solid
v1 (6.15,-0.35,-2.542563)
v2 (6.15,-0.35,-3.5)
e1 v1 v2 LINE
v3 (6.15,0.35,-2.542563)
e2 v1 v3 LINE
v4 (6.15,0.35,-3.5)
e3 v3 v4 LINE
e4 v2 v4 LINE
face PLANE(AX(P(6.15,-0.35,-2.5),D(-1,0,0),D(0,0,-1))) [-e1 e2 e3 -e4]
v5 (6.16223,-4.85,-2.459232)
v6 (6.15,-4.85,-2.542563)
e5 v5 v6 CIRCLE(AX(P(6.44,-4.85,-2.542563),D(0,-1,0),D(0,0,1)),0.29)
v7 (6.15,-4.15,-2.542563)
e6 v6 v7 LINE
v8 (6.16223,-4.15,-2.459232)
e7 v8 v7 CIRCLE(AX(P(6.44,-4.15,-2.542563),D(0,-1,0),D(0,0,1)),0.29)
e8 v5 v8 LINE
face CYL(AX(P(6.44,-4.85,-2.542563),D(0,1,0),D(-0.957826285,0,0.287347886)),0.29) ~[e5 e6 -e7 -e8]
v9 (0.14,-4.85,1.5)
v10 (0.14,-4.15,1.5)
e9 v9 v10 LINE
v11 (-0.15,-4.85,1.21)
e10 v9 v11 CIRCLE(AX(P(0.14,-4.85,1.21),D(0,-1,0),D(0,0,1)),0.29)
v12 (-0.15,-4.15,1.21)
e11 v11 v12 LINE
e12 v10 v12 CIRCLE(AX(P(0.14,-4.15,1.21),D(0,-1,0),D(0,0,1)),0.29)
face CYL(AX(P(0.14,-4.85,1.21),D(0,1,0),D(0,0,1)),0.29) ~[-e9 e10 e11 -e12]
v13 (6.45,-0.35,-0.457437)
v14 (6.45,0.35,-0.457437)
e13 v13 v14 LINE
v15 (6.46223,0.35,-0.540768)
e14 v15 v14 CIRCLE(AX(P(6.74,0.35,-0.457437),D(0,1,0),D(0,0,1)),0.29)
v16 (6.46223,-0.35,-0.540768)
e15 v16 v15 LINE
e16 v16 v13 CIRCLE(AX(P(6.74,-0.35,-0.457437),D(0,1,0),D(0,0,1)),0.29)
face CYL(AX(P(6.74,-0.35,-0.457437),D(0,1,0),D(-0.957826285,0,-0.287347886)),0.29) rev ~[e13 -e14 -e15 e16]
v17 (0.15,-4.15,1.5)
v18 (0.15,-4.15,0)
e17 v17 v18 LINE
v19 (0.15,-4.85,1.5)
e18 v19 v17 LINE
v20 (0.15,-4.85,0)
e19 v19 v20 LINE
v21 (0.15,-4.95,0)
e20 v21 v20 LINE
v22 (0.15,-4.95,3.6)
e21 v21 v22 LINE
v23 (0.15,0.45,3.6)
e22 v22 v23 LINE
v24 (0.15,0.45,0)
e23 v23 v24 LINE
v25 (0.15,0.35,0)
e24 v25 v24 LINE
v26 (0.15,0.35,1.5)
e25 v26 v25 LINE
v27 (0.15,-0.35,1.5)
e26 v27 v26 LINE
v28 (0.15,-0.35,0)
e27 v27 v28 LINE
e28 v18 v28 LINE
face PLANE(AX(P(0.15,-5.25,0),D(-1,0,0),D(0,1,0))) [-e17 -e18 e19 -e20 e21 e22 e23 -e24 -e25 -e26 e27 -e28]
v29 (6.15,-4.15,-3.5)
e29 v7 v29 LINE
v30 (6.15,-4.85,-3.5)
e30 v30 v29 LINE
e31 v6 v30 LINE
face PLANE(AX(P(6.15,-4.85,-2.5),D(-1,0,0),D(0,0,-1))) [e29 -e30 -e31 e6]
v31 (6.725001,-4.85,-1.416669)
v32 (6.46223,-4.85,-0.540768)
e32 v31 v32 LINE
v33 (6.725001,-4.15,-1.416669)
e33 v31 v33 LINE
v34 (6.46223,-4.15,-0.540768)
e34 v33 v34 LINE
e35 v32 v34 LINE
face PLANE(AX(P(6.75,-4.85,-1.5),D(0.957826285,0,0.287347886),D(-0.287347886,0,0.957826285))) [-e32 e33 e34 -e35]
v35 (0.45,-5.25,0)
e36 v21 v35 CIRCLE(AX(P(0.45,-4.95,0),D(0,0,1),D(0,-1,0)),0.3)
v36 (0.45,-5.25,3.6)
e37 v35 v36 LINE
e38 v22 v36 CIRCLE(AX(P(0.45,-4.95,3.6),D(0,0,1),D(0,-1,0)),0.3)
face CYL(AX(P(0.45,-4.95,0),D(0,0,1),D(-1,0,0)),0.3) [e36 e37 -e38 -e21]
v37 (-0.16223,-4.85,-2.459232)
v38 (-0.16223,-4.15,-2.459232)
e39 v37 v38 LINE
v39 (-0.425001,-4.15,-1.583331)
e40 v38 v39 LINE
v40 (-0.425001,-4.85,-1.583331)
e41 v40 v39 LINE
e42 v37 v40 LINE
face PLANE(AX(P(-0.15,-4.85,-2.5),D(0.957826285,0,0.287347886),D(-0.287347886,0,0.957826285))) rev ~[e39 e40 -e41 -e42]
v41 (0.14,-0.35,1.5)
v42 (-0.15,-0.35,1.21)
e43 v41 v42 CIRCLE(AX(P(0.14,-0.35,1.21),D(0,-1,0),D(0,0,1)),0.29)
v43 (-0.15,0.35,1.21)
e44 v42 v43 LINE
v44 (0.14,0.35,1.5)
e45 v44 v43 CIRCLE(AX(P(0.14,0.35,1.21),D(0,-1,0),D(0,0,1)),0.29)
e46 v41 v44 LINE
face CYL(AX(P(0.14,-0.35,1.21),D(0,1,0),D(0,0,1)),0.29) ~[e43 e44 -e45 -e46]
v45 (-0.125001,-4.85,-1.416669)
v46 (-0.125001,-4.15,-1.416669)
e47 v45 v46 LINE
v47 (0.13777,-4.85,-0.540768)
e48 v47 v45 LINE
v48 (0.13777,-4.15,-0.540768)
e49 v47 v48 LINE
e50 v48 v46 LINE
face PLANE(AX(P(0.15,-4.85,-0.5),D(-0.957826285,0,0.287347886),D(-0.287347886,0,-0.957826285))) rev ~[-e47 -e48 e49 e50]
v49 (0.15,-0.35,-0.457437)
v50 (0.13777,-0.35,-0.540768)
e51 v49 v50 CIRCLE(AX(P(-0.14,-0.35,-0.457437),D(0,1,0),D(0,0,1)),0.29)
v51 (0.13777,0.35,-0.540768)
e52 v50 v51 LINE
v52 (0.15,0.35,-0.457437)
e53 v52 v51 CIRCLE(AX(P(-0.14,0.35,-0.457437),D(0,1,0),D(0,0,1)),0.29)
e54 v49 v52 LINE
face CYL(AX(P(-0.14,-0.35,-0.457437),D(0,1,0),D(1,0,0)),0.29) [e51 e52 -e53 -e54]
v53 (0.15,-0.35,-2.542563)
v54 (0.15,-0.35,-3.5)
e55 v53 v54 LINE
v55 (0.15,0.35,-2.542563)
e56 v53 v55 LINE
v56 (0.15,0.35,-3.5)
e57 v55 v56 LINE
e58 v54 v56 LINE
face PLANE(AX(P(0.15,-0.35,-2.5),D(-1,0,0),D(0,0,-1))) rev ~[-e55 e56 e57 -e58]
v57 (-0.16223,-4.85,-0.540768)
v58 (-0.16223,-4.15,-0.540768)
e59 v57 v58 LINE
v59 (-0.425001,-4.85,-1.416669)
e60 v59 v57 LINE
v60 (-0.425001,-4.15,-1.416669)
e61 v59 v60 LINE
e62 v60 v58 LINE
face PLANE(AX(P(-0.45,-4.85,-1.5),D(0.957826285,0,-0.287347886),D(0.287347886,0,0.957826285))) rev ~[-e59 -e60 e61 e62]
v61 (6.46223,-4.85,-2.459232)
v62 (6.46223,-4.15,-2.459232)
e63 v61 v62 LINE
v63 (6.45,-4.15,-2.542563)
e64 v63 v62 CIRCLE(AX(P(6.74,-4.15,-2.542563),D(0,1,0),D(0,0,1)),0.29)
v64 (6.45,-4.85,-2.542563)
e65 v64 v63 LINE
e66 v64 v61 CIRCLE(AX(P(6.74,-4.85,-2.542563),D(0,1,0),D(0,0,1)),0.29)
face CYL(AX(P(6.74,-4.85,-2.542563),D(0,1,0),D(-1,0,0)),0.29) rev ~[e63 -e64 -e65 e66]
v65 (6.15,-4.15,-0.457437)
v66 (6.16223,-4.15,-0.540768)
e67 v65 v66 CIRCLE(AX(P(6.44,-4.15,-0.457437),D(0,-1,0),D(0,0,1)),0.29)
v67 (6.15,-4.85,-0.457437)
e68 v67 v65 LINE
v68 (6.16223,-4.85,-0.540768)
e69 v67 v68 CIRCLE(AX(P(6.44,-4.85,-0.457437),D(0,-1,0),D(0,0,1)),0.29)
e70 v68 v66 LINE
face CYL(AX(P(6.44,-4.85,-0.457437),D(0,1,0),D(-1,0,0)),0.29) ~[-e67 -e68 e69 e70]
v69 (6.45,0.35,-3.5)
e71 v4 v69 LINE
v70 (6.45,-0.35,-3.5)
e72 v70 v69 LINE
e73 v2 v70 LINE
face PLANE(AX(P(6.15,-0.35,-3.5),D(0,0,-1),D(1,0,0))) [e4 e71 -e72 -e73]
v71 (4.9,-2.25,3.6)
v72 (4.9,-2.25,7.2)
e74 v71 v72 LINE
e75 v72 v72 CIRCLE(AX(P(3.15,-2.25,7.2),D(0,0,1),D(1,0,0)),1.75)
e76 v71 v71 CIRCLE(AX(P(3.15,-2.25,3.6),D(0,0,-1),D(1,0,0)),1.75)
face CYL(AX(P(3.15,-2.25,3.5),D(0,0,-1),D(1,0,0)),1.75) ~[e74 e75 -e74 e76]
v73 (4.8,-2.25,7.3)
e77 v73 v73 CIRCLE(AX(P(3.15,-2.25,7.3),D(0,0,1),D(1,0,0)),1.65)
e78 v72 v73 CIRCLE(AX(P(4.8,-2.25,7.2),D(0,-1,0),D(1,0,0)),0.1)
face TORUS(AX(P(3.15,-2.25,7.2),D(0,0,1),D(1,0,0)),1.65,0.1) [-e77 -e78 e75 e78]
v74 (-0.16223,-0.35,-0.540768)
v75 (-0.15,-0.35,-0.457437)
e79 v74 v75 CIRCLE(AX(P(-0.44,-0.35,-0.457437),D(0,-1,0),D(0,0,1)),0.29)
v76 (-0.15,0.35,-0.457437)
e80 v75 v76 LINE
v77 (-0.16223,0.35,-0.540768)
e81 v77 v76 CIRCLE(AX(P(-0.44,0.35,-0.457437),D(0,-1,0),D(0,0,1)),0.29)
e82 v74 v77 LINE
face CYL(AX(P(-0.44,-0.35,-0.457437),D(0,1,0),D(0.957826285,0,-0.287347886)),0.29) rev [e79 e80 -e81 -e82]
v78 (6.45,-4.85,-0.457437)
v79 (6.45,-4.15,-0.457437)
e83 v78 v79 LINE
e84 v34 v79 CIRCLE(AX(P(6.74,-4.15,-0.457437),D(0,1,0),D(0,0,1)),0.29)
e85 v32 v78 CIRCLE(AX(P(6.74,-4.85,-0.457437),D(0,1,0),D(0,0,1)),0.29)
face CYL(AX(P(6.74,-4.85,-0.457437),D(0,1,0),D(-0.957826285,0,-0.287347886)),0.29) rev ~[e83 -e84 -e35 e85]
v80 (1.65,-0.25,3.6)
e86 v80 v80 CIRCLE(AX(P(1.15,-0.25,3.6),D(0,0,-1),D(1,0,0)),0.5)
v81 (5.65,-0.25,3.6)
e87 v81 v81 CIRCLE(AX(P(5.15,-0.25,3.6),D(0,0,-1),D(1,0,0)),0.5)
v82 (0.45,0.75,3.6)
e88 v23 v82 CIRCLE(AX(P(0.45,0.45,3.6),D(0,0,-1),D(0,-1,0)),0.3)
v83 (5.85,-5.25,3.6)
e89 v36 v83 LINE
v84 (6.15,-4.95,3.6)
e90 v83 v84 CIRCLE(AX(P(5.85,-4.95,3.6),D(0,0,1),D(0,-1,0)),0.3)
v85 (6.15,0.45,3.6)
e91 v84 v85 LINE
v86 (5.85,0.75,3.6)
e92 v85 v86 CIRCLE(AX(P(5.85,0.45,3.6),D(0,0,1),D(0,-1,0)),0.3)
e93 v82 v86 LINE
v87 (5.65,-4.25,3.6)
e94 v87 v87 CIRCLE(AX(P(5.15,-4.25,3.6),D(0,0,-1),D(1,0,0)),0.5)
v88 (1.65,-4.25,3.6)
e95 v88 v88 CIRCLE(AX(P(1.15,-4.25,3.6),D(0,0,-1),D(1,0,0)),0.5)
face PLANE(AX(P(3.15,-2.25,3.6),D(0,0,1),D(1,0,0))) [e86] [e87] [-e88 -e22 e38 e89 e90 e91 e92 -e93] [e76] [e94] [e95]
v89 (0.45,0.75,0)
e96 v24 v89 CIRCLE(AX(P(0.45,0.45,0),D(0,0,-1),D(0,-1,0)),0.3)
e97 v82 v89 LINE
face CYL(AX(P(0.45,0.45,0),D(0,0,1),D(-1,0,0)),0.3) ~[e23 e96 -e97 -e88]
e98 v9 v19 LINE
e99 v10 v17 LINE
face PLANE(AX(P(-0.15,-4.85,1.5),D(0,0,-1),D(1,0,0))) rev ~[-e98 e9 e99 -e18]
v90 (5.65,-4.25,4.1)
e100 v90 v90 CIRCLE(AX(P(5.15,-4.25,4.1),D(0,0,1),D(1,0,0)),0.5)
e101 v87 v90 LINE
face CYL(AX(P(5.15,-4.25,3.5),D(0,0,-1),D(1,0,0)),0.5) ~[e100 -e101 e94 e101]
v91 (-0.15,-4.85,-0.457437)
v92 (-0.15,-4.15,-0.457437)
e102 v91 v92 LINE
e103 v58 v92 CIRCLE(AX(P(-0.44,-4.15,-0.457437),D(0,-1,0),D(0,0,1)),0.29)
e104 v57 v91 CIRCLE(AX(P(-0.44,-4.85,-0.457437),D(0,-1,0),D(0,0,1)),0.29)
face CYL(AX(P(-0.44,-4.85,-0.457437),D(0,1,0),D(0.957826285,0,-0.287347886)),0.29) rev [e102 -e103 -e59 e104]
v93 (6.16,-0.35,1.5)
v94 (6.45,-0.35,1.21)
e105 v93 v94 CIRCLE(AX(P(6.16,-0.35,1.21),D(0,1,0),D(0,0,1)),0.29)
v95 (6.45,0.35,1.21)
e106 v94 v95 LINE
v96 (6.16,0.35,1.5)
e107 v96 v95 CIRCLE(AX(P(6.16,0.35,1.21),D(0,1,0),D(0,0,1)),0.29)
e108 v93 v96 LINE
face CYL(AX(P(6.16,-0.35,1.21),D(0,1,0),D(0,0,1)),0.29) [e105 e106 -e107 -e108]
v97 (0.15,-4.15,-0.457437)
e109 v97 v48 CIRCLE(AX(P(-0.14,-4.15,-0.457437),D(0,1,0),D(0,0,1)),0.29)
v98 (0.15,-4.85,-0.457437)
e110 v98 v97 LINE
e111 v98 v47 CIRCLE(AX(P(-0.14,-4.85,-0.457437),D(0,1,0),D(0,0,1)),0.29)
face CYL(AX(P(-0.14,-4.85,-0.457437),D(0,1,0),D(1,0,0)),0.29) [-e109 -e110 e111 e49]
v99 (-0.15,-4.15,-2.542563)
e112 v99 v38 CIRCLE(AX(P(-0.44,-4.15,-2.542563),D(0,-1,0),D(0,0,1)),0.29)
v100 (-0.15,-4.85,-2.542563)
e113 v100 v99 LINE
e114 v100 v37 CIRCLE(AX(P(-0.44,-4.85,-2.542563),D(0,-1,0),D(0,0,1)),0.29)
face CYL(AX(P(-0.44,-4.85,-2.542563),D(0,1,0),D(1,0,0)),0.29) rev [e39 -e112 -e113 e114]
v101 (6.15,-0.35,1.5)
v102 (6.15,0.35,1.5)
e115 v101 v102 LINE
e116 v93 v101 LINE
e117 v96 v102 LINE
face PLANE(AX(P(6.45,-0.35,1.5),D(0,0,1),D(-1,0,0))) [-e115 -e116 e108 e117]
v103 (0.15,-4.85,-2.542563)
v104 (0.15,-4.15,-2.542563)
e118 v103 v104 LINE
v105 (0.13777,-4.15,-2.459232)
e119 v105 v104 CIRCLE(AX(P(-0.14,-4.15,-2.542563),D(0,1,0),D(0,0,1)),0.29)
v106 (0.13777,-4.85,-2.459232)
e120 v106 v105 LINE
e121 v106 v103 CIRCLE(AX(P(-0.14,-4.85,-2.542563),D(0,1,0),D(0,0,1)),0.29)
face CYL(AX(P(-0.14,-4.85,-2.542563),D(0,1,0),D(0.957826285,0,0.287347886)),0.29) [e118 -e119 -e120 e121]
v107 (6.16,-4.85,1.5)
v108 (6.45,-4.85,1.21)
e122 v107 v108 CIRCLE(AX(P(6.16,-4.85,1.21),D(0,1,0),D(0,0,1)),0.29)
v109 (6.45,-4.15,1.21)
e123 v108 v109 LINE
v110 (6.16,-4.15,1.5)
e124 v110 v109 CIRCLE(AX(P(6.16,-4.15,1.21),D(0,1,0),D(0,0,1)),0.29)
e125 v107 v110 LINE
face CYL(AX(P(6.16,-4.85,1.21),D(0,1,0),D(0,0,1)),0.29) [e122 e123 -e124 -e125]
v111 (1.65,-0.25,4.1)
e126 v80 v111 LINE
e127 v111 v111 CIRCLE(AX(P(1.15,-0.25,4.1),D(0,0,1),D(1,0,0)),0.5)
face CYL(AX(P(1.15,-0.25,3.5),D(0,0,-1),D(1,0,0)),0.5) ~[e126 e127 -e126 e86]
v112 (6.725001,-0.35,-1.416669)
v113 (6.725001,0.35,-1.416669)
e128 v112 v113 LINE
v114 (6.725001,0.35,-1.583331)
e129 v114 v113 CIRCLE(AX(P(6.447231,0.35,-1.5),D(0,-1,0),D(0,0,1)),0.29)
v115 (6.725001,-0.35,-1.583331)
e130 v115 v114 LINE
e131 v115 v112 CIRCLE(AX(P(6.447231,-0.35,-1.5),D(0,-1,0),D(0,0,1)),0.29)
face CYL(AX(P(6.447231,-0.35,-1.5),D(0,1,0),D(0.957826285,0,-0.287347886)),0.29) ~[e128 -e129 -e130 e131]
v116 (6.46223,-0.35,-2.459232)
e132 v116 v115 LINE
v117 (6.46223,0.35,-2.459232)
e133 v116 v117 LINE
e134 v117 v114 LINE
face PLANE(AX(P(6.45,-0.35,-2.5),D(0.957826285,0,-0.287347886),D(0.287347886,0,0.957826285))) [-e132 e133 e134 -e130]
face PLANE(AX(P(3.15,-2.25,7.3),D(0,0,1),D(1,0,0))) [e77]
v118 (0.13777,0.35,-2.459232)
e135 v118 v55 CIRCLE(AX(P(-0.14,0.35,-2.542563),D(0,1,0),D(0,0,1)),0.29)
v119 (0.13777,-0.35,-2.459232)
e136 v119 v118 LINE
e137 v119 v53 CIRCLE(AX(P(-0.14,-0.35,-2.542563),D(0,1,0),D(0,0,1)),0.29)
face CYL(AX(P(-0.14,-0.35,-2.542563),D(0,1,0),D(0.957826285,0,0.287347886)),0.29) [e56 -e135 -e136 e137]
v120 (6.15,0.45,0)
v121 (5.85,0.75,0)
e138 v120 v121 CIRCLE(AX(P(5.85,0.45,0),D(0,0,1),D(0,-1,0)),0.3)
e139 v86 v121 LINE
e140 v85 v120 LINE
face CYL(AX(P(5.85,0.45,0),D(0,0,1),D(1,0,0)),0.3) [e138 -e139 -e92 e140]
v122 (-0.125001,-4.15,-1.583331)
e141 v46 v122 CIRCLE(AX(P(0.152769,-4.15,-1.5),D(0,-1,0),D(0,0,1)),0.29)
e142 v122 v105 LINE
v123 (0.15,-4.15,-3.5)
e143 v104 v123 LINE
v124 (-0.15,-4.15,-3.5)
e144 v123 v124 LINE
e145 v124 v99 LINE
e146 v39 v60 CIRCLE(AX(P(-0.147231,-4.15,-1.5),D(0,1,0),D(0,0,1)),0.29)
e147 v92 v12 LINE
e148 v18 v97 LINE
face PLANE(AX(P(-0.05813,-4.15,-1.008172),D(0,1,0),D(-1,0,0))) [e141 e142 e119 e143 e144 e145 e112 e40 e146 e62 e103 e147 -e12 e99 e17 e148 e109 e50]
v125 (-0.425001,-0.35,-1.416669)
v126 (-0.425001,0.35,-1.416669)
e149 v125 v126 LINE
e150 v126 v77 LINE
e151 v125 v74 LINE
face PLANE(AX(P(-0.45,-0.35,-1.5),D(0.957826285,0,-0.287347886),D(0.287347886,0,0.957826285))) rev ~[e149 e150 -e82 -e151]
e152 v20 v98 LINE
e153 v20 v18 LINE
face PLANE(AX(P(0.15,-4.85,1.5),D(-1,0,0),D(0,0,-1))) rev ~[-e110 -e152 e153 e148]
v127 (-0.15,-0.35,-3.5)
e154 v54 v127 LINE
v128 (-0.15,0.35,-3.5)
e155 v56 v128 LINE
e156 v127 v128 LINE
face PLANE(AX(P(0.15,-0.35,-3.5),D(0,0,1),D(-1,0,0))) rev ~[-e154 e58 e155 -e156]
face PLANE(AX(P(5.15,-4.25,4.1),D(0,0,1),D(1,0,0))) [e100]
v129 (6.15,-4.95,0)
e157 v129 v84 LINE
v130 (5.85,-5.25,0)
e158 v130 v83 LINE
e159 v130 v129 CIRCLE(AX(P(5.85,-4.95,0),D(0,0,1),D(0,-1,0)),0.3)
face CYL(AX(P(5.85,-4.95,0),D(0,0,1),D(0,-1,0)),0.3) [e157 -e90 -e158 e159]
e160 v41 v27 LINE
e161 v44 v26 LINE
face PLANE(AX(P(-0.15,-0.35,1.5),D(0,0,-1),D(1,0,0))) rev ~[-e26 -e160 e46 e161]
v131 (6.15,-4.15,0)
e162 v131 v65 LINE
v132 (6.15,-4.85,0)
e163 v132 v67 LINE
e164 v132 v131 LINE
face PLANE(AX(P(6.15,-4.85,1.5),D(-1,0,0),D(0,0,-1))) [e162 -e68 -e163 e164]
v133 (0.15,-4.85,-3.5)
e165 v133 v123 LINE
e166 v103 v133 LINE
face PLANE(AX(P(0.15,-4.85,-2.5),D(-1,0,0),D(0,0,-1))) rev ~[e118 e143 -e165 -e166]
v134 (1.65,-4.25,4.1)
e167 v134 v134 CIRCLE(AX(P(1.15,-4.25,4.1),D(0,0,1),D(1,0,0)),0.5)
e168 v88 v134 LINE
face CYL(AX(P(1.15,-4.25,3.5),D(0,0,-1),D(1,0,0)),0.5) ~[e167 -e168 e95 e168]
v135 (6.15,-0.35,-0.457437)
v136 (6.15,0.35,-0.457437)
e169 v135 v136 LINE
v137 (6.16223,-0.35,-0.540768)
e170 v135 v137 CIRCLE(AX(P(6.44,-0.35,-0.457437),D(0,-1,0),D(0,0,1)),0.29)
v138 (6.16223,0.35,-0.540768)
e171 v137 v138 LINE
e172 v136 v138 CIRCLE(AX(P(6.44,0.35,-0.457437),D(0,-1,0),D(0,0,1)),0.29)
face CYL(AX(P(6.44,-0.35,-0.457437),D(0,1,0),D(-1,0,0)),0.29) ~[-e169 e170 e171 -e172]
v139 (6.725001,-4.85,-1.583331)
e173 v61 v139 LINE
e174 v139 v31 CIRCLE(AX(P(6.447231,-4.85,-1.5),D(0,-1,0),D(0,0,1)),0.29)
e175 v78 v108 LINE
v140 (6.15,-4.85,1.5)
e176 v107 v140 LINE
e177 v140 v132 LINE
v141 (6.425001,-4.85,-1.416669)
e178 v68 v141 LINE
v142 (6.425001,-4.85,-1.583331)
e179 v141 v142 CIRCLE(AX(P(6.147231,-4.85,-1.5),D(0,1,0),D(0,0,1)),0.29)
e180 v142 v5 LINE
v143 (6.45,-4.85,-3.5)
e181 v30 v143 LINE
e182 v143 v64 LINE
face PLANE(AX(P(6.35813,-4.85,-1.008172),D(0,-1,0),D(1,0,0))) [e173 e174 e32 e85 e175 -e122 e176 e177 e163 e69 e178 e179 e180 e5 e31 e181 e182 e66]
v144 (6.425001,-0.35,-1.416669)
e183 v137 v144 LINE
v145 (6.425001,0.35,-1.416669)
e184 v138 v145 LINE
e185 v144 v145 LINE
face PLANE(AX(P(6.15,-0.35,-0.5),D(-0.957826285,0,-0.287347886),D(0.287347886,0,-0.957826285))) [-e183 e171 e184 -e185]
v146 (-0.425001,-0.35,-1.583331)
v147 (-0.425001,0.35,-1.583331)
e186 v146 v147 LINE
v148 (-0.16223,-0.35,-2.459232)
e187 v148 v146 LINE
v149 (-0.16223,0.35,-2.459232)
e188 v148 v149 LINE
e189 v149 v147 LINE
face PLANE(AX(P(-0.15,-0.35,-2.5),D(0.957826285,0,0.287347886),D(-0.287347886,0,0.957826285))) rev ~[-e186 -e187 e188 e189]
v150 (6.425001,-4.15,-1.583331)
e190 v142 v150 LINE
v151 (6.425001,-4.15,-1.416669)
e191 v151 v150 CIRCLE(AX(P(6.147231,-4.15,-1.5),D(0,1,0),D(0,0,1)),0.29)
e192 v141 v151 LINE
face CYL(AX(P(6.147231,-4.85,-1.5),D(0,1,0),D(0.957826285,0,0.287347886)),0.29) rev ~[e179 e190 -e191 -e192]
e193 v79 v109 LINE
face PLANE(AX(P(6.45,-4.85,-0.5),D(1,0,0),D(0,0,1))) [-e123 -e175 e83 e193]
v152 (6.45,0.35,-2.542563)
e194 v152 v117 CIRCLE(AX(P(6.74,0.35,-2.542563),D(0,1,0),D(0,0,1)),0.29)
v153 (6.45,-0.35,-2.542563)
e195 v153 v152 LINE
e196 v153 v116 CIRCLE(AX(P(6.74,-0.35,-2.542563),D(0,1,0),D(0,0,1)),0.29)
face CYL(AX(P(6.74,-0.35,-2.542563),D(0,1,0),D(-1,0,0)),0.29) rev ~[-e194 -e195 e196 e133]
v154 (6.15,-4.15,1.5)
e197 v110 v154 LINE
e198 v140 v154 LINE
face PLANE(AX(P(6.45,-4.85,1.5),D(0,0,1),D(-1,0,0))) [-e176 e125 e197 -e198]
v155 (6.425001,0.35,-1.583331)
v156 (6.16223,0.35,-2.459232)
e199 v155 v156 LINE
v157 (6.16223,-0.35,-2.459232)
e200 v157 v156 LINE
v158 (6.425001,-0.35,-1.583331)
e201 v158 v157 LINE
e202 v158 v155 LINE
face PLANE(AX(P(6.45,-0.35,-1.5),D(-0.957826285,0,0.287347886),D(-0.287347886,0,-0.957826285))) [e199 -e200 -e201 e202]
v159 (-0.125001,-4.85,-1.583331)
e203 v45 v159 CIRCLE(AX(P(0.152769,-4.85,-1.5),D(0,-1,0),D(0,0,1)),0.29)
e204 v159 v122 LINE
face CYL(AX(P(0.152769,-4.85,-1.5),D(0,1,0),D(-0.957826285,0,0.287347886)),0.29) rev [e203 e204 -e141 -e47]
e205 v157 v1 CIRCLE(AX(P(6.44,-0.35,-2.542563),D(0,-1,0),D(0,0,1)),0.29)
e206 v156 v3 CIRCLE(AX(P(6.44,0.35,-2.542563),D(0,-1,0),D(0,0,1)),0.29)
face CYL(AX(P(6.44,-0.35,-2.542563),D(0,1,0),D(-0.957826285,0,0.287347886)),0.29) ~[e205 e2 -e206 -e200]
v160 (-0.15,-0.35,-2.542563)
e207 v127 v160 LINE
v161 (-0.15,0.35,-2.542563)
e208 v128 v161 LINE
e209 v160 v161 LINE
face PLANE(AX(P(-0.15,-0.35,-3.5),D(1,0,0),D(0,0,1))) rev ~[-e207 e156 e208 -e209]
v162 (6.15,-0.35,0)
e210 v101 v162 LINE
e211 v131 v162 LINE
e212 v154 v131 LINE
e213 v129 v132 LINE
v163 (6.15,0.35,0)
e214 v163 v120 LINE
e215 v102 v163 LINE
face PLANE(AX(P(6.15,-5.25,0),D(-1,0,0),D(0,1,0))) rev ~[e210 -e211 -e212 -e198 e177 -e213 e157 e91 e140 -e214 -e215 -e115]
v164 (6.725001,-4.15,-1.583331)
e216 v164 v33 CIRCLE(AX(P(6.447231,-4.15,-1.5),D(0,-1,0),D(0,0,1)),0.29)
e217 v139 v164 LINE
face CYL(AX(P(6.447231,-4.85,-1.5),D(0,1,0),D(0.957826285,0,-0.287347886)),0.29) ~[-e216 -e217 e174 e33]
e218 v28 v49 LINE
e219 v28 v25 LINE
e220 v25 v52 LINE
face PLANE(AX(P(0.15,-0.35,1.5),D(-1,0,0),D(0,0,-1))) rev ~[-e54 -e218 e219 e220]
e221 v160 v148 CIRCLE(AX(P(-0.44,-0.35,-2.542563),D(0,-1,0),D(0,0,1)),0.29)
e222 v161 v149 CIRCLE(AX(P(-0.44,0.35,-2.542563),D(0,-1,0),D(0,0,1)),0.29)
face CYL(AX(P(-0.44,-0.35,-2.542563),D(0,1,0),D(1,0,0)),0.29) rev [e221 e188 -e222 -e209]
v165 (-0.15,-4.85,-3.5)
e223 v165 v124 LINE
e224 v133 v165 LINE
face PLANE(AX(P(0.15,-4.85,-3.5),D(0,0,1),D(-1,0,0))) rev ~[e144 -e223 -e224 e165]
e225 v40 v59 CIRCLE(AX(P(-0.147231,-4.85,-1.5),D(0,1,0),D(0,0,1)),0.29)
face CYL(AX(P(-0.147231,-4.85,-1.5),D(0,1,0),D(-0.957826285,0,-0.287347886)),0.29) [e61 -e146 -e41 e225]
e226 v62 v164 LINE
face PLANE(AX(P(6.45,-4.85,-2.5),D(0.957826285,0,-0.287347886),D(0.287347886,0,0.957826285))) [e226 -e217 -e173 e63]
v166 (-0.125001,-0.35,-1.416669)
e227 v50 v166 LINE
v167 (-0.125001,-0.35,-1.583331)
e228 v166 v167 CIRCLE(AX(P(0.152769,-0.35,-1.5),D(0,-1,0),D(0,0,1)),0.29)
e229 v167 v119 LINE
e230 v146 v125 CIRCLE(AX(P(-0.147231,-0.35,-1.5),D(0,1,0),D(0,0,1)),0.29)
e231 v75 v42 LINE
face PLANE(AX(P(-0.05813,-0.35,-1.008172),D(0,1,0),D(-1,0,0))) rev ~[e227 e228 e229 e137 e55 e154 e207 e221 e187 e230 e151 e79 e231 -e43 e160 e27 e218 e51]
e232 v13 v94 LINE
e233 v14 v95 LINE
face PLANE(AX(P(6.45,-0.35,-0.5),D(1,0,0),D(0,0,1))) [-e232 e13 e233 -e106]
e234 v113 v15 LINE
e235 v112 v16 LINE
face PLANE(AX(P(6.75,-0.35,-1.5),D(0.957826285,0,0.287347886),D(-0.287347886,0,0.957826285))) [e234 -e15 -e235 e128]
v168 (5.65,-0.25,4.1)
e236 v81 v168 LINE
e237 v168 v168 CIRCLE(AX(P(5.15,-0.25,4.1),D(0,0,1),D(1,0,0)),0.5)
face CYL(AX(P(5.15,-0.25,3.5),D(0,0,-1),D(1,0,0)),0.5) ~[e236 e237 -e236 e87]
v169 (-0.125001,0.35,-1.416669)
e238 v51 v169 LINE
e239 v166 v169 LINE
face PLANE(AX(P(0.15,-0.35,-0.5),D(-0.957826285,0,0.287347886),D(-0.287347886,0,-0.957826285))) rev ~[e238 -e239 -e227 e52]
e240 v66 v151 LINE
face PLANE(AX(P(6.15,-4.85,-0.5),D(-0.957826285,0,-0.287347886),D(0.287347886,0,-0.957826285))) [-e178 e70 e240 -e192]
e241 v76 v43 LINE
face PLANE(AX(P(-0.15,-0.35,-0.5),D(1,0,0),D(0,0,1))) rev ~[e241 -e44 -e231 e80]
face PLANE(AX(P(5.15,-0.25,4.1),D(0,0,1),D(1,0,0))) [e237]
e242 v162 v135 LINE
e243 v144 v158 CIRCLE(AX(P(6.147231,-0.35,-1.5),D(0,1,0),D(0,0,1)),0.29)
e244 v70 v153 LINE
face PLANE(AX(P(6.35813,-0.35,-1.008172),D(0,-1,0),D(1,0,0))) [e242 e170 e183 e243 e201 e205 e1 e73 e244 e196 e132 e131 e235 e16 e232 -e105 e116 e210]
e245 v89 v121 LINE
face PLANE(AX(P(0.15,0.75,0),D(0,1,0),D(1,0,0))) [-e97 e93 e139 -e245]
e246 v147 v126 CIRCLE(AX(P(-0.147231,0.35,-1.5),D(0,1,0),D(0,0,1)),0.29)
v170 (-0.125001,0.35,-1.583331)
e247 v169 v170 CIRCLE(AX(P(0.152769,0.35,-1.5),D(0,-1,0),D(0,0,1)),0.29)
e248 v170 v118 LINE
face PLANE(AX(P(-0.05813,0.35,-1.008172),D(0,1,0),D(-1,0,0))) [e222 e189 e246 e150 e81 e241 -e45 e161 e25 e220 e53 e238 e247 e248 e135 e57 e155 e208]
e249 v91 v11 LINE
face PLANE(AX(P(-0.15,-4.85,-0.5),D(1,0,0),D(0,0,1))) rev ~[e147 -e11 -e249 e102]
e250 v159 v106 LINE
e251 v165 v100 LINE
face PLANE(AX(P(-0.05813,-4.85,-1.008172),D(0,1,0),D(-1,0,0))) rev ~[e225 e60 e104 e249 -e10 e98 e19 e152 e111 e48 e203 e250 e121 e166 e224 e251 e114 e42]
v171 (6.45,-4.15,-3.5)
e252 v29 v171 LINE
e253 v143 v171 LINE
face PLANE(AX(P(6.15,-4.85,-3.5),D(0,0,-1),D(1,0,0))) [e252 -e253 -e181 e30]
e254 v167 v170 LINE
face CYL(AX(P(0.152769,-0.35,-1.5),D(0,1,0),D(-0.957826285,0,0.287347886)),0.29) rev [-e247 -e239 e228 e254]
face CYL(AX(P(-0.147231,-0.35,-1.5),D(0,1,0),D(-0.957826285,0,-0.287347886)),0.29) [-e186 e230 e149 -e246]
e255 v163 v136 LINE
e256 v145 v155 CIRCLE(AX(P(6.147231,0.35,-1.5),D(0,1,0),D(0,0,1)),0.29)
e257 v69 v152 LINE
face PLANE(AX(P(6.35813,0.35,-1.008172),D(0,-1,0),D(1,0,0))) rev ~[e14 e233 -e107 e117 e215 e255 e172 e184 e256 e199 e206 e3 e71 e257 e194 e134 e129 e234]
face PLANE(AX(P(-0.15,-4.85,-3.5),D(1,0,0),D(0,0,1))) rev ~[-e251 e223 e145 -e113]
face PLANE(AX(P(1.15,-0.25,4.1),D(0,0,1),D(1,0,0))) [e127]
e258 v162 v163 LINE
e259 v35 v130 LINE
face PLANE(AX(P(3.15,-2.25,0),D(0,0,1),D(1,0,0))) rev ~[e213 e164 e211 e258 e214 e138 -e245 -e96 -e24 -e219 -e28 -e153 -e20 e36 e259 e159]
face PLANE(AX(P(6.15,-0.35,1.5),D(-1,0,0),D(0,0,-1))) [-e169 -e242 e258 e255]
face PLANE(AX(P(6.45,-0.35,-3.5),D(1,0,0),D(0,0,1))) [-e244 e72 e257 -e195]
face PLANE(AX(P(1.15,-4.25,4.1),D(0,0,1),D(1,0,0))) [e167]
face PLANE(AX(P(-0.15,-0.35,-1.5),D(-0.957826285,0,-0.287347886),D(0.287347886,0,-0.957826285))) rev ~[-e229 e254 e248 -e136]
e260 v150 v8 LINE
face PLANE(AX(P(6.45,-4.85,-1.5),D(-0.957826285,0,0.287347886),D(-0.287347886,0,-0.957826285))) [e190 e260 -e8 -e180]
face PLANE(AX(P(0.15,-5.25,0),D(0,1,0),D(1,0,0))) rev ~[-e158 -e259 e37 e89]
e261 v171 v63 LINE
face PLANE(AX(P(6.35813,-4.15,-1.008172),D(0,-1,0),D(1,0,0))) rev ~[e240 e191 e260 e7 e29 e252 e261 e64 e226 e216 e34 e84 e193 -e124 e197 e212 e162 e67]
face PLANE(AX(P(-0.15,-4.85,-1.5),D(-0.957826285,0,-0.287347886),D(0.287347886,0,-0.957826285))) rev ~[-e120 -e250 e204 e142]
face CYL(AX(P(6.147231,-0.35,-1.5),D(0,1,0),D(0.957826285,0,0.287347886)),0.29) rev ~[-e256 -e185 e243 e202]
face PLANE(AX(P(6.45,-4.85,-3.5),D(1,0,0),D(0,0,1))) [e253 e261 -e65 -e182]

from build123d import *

# Parameters (mm, degrees)
SKETCH001_W  = 6
SKETCH001_H  = 6
PAD001_DEPTH = 0.1
FILLET001_R  = 0.3
PAD008_DEPTH = 0.7
FILLET003_R  = 0.29
PAD009_DEPTH = 0.7
FILLET004_R  = 0.29
PAD010_DEPTH = 0.7
FILLET005_R  = 0.29
SKETCH_W     = 6
SKETCH_H     = 6
PAD_DEPTH    = 3.5
FILLET_R     = 0.3
SKETCH004_R  = 0.5
PAD003_DEPTH = 0.6
SKETCH003_R  = 0.5
PAD004_DEPTH = 0.6
SKETCH005_R  = 0.5
PAD002_DEPTH = 0.6
SKETCH002_R  = 0.5
PAD005_DEPTH = 0.6
SKETCH006_R  = 1.75
PAD006_DEPTH = 3.8
FILLET006_R  = 0.1
PAD007_DEPTH = 0.7
FILLET002_R  = 0.29


with BuildPart() as fillet001:
    # Sketch001 → Pad001 (new body)
    with BuildSketch(Plane.XY.offset(3.5)):
        with Locations((3.15, -2.25)):
            Rectangle(SKETCH001_W, SKETCH001_H)
    extrude(amount=PAD001_DEPTH)

    # Fillet001
    fillet001_edges = [fillet001.edges().sort_by_distance(p)[0] for p in [
        (6.15, -5.25, 3.55),
        (0.15, -5.25, 3.55),
        (6.15, 0.75, 3.55),
        (0.15, 0.75, 3.55),
    ]]
    fillet(fillet001_edges, radius=FILLET001_R)


with BuildPart() as fillet003:
    # Sketch008 → Pad008 (new body)
    with BuildSketch(Plane.XZ.offset(0.35)):
        Polygon((-0.15, 1.5), (0.15, 1.5), (0.15, -0.5), (-0.15, -1.5), (0.15, -2.5), (0.15, -3.5), (-0.15, -3.5), (-0.15, -2.5), (-0.45, -1.5), (-0.15, -0.5), align=None)
    extrude(amount=-PAD008_DEPTH)

    # Fillet003
    fillet003_edges = [fillet003.edges().sort_by_distance(p)[0] for p in [
        (-0.15, 0, -2.5),
        (-0.15, 0, -0.5),
        (-0.45, 0, -1.5),
        (-0.15, 0, 1.5),
        (0.15, 0, -0.5),
        (-0.15, 0, -1.5),
        (0.15, 0, -2.5),
    ]]
    fillet(fillet003_edges, radius=FILLET003_R)


with BuildPart() as fillet004:
    # Sketch009 → Pad009 (new body)
    with BuildSketch(Plane.XZ.offset(4.85)):
        Polygon((6.45, 1.5), (6.15, 1.5), (6.15, -0.5), (6.45, -1.5), (6.15, -2.5), (6.15, -3.5), (6.45, -3.5), (6.45, -2.5), (6.75, -1.5), (6.45, -0.5), align=None)
    extrude(amount=-PAD009_DEPTH)

    # Fillet004
    fillet004_edges = [fillet004.edges().sort_by_distance(p)[0] for p in [
        (6.45, -4.5, -2.5),
        (6.45, -4.5, -0.5),
        (6.75, -4.5, -1.5),
        (6.45, -4.5, 1.5),
        (6.15, -4.5, -0.5),
        (6.45, -4.5, -1.5),
        (6.15, -4.5, -2.5),
    ]]
    fillet(fillet004_edges, radius=FILLET004_R)


with BuildPart() as fillet005:
    # Sketch010 → Pad010 (new body)
    with BuildSketch(Plane.XZ.offset(0.35)):
        Polygon((6.45, 1.5), (6.15, 1.5), (6.15, -0.5), (6.45, -1.5), (6.15, -2.5), (6.15, -3.5), (6.45, -3.5), (6.45, -2.5), (6.75, -1.5), (6.45, -0.5), align=None)
    extrude(amount=-PAD010_DEPTH)

    # Fillet005
    fillet005_edges = [fillet005.edges().sort_by_distance(p)[0] for p in [
        (6.45, 0, -2.5),
        (6.45, 0, -0.5),
        (6.75, 0, -1.5),
        (6.45, 0, 1.5),
        (6.15, 0, -0.5),
        (6.45, 0, -1.5),
        (6.15, 0, -2.5),
    ]]
    fillet(fillet005_edges, radius=FILLET005_R)


with BuildPart() as fillet_body:
    # Sketch → Pad (new body)
    with BuildSketch(Plane.XY):
        with Locations((3.15, -2.25)):
            Rectangle(SKETCH_W, SKETCH_H)
    extrude(amount=PAD_DEPTH)

    # Fillet
    fillet_edges = [fillet_body.edges().sort_by_distance(p)[0] for p in [
        (6.15, 0.75, 1.75),
        (6.15, -5.25, 1.75),
        (0.15, -5.25, 1.75),
        (0.15, 0.75, 1.75),
    ]]
    fillet(fillet_edges, radius=FILLET_R)


with BuildPart() as pad003:
    # Pad003 base: copy of Fillet body
    add(fillet_body.part)

    # Sketch004 → Pad003 (new body)
    with BuildSketch(Plane.XY.offset(3.5)):
        with Locations((5.15, -0.25)):
            Circle(SKETCH004_R)
    extrude(amount=PAD003_DEPTH)


with BuildPart() as pad004:
    # Pad004 base: copy of Fillet body
    add(fillet_body.part)

    # Sketch003 → Pad004 (new body)
    with BuildSketch(Plane.XY.offset(3.5)):
        with Locations((5.15, -4.25)):
            Circle(SKETCH003_R)
    extrude(amount=PAD004_DEPTH)


with BuildPart() as pad002:
    # Pad002 base: copy of Fillet body
    add(fillet_body.part)

    # Sketch005 → Pad002 (new body)
    with BuildSketch(Plane.XY.offset(3.5)):
        with Locations((1.15, -0.25)):
            Circle(SKETCH005_R)
    extrude(amount=PAD002_DEPTH)


with BuildPart() as pad005:
    # Pad005 base: copy of Fillet body
    add(fillet_body.part)

    # Sketch002 → Pad005 (new body)
    with BuildSketch(Plane.XY.offset(3.5)):
        with Locations((1.15, -4.25)):
            Circle(SKETCH002_R)
    extrude(amount=PAD005_DEPTH)


with BuildPart() as fillet006:
    # Pad006 base: copy of Fillet body
    add(fillet_body.part)

    # Sketch006 → Pad006 (new body)
    with BuildSketch(Plane.XY.offset(3.5)):
        with Locations((3.15, -2.25)):
            Circle(SKETCH006_R)
    extrude(amount=PAD006_DEPTH)

    # Fillet006
    fillet006_edges = [fillet006.edges().sort_by_distance(p)[0] for p in [
        (1.4, -2.25, 7.3),
    ]]
    fillet(fillet006_edges, radius=FILLET006_R)


with BuildPart() as sw_push_6mm_h7_3mm:
    # Sketch007 → Pad007 (new body)
    with BuildSketch(Plane.XZ.offset(4.85)):
        Polygon((-0.15, 1.5), (0.15, 1.5), (0.15, -0.5), (-0.15, -1.5), (0.15, -2.5), (0.15, -3.5), (-0.15, -3.5), (-0.15, -2.5), (-0.45, -1.5), (-0.15, -0.5), align=None)
    extrude(amount=-PAD007_DEPTH)

    # Fillet002
    fillet002_edges = [sw_push_6mm_h7_3mm.edges().sort_by_distance(p)[0] for p in [
        (-0.15, -4.5, -2.5),
        (-0.15, -4.5, -0.5),
        (-0.45, -4.5, -1.5),
        (-0.15, -4.5, 1.5),
        (0.15, -4.5, -0.5),
        (-0.15, -4.5, -1.5),
        (0.15, -4.5, -2.5),
    ]]
    fillet(fillet002_edges, radius=FILLET002_R)

    # Fillet002_mp_cp: union Fillet001, Fillet003, Fillet004, Fillet005, Pad003, Pad004, Pad002, Pad005, Fillet006
    add(fillet001.part)
    add(fillet003.part)
    add(fillet004.part)
    add(fillet005.part)
    add(pad003.part)
    add(pad004.part)
    add(pad002.part)
    add(pad005.part)
    add(fillet006.part)


solid = sw_push_6mm_h7_3mm.part
